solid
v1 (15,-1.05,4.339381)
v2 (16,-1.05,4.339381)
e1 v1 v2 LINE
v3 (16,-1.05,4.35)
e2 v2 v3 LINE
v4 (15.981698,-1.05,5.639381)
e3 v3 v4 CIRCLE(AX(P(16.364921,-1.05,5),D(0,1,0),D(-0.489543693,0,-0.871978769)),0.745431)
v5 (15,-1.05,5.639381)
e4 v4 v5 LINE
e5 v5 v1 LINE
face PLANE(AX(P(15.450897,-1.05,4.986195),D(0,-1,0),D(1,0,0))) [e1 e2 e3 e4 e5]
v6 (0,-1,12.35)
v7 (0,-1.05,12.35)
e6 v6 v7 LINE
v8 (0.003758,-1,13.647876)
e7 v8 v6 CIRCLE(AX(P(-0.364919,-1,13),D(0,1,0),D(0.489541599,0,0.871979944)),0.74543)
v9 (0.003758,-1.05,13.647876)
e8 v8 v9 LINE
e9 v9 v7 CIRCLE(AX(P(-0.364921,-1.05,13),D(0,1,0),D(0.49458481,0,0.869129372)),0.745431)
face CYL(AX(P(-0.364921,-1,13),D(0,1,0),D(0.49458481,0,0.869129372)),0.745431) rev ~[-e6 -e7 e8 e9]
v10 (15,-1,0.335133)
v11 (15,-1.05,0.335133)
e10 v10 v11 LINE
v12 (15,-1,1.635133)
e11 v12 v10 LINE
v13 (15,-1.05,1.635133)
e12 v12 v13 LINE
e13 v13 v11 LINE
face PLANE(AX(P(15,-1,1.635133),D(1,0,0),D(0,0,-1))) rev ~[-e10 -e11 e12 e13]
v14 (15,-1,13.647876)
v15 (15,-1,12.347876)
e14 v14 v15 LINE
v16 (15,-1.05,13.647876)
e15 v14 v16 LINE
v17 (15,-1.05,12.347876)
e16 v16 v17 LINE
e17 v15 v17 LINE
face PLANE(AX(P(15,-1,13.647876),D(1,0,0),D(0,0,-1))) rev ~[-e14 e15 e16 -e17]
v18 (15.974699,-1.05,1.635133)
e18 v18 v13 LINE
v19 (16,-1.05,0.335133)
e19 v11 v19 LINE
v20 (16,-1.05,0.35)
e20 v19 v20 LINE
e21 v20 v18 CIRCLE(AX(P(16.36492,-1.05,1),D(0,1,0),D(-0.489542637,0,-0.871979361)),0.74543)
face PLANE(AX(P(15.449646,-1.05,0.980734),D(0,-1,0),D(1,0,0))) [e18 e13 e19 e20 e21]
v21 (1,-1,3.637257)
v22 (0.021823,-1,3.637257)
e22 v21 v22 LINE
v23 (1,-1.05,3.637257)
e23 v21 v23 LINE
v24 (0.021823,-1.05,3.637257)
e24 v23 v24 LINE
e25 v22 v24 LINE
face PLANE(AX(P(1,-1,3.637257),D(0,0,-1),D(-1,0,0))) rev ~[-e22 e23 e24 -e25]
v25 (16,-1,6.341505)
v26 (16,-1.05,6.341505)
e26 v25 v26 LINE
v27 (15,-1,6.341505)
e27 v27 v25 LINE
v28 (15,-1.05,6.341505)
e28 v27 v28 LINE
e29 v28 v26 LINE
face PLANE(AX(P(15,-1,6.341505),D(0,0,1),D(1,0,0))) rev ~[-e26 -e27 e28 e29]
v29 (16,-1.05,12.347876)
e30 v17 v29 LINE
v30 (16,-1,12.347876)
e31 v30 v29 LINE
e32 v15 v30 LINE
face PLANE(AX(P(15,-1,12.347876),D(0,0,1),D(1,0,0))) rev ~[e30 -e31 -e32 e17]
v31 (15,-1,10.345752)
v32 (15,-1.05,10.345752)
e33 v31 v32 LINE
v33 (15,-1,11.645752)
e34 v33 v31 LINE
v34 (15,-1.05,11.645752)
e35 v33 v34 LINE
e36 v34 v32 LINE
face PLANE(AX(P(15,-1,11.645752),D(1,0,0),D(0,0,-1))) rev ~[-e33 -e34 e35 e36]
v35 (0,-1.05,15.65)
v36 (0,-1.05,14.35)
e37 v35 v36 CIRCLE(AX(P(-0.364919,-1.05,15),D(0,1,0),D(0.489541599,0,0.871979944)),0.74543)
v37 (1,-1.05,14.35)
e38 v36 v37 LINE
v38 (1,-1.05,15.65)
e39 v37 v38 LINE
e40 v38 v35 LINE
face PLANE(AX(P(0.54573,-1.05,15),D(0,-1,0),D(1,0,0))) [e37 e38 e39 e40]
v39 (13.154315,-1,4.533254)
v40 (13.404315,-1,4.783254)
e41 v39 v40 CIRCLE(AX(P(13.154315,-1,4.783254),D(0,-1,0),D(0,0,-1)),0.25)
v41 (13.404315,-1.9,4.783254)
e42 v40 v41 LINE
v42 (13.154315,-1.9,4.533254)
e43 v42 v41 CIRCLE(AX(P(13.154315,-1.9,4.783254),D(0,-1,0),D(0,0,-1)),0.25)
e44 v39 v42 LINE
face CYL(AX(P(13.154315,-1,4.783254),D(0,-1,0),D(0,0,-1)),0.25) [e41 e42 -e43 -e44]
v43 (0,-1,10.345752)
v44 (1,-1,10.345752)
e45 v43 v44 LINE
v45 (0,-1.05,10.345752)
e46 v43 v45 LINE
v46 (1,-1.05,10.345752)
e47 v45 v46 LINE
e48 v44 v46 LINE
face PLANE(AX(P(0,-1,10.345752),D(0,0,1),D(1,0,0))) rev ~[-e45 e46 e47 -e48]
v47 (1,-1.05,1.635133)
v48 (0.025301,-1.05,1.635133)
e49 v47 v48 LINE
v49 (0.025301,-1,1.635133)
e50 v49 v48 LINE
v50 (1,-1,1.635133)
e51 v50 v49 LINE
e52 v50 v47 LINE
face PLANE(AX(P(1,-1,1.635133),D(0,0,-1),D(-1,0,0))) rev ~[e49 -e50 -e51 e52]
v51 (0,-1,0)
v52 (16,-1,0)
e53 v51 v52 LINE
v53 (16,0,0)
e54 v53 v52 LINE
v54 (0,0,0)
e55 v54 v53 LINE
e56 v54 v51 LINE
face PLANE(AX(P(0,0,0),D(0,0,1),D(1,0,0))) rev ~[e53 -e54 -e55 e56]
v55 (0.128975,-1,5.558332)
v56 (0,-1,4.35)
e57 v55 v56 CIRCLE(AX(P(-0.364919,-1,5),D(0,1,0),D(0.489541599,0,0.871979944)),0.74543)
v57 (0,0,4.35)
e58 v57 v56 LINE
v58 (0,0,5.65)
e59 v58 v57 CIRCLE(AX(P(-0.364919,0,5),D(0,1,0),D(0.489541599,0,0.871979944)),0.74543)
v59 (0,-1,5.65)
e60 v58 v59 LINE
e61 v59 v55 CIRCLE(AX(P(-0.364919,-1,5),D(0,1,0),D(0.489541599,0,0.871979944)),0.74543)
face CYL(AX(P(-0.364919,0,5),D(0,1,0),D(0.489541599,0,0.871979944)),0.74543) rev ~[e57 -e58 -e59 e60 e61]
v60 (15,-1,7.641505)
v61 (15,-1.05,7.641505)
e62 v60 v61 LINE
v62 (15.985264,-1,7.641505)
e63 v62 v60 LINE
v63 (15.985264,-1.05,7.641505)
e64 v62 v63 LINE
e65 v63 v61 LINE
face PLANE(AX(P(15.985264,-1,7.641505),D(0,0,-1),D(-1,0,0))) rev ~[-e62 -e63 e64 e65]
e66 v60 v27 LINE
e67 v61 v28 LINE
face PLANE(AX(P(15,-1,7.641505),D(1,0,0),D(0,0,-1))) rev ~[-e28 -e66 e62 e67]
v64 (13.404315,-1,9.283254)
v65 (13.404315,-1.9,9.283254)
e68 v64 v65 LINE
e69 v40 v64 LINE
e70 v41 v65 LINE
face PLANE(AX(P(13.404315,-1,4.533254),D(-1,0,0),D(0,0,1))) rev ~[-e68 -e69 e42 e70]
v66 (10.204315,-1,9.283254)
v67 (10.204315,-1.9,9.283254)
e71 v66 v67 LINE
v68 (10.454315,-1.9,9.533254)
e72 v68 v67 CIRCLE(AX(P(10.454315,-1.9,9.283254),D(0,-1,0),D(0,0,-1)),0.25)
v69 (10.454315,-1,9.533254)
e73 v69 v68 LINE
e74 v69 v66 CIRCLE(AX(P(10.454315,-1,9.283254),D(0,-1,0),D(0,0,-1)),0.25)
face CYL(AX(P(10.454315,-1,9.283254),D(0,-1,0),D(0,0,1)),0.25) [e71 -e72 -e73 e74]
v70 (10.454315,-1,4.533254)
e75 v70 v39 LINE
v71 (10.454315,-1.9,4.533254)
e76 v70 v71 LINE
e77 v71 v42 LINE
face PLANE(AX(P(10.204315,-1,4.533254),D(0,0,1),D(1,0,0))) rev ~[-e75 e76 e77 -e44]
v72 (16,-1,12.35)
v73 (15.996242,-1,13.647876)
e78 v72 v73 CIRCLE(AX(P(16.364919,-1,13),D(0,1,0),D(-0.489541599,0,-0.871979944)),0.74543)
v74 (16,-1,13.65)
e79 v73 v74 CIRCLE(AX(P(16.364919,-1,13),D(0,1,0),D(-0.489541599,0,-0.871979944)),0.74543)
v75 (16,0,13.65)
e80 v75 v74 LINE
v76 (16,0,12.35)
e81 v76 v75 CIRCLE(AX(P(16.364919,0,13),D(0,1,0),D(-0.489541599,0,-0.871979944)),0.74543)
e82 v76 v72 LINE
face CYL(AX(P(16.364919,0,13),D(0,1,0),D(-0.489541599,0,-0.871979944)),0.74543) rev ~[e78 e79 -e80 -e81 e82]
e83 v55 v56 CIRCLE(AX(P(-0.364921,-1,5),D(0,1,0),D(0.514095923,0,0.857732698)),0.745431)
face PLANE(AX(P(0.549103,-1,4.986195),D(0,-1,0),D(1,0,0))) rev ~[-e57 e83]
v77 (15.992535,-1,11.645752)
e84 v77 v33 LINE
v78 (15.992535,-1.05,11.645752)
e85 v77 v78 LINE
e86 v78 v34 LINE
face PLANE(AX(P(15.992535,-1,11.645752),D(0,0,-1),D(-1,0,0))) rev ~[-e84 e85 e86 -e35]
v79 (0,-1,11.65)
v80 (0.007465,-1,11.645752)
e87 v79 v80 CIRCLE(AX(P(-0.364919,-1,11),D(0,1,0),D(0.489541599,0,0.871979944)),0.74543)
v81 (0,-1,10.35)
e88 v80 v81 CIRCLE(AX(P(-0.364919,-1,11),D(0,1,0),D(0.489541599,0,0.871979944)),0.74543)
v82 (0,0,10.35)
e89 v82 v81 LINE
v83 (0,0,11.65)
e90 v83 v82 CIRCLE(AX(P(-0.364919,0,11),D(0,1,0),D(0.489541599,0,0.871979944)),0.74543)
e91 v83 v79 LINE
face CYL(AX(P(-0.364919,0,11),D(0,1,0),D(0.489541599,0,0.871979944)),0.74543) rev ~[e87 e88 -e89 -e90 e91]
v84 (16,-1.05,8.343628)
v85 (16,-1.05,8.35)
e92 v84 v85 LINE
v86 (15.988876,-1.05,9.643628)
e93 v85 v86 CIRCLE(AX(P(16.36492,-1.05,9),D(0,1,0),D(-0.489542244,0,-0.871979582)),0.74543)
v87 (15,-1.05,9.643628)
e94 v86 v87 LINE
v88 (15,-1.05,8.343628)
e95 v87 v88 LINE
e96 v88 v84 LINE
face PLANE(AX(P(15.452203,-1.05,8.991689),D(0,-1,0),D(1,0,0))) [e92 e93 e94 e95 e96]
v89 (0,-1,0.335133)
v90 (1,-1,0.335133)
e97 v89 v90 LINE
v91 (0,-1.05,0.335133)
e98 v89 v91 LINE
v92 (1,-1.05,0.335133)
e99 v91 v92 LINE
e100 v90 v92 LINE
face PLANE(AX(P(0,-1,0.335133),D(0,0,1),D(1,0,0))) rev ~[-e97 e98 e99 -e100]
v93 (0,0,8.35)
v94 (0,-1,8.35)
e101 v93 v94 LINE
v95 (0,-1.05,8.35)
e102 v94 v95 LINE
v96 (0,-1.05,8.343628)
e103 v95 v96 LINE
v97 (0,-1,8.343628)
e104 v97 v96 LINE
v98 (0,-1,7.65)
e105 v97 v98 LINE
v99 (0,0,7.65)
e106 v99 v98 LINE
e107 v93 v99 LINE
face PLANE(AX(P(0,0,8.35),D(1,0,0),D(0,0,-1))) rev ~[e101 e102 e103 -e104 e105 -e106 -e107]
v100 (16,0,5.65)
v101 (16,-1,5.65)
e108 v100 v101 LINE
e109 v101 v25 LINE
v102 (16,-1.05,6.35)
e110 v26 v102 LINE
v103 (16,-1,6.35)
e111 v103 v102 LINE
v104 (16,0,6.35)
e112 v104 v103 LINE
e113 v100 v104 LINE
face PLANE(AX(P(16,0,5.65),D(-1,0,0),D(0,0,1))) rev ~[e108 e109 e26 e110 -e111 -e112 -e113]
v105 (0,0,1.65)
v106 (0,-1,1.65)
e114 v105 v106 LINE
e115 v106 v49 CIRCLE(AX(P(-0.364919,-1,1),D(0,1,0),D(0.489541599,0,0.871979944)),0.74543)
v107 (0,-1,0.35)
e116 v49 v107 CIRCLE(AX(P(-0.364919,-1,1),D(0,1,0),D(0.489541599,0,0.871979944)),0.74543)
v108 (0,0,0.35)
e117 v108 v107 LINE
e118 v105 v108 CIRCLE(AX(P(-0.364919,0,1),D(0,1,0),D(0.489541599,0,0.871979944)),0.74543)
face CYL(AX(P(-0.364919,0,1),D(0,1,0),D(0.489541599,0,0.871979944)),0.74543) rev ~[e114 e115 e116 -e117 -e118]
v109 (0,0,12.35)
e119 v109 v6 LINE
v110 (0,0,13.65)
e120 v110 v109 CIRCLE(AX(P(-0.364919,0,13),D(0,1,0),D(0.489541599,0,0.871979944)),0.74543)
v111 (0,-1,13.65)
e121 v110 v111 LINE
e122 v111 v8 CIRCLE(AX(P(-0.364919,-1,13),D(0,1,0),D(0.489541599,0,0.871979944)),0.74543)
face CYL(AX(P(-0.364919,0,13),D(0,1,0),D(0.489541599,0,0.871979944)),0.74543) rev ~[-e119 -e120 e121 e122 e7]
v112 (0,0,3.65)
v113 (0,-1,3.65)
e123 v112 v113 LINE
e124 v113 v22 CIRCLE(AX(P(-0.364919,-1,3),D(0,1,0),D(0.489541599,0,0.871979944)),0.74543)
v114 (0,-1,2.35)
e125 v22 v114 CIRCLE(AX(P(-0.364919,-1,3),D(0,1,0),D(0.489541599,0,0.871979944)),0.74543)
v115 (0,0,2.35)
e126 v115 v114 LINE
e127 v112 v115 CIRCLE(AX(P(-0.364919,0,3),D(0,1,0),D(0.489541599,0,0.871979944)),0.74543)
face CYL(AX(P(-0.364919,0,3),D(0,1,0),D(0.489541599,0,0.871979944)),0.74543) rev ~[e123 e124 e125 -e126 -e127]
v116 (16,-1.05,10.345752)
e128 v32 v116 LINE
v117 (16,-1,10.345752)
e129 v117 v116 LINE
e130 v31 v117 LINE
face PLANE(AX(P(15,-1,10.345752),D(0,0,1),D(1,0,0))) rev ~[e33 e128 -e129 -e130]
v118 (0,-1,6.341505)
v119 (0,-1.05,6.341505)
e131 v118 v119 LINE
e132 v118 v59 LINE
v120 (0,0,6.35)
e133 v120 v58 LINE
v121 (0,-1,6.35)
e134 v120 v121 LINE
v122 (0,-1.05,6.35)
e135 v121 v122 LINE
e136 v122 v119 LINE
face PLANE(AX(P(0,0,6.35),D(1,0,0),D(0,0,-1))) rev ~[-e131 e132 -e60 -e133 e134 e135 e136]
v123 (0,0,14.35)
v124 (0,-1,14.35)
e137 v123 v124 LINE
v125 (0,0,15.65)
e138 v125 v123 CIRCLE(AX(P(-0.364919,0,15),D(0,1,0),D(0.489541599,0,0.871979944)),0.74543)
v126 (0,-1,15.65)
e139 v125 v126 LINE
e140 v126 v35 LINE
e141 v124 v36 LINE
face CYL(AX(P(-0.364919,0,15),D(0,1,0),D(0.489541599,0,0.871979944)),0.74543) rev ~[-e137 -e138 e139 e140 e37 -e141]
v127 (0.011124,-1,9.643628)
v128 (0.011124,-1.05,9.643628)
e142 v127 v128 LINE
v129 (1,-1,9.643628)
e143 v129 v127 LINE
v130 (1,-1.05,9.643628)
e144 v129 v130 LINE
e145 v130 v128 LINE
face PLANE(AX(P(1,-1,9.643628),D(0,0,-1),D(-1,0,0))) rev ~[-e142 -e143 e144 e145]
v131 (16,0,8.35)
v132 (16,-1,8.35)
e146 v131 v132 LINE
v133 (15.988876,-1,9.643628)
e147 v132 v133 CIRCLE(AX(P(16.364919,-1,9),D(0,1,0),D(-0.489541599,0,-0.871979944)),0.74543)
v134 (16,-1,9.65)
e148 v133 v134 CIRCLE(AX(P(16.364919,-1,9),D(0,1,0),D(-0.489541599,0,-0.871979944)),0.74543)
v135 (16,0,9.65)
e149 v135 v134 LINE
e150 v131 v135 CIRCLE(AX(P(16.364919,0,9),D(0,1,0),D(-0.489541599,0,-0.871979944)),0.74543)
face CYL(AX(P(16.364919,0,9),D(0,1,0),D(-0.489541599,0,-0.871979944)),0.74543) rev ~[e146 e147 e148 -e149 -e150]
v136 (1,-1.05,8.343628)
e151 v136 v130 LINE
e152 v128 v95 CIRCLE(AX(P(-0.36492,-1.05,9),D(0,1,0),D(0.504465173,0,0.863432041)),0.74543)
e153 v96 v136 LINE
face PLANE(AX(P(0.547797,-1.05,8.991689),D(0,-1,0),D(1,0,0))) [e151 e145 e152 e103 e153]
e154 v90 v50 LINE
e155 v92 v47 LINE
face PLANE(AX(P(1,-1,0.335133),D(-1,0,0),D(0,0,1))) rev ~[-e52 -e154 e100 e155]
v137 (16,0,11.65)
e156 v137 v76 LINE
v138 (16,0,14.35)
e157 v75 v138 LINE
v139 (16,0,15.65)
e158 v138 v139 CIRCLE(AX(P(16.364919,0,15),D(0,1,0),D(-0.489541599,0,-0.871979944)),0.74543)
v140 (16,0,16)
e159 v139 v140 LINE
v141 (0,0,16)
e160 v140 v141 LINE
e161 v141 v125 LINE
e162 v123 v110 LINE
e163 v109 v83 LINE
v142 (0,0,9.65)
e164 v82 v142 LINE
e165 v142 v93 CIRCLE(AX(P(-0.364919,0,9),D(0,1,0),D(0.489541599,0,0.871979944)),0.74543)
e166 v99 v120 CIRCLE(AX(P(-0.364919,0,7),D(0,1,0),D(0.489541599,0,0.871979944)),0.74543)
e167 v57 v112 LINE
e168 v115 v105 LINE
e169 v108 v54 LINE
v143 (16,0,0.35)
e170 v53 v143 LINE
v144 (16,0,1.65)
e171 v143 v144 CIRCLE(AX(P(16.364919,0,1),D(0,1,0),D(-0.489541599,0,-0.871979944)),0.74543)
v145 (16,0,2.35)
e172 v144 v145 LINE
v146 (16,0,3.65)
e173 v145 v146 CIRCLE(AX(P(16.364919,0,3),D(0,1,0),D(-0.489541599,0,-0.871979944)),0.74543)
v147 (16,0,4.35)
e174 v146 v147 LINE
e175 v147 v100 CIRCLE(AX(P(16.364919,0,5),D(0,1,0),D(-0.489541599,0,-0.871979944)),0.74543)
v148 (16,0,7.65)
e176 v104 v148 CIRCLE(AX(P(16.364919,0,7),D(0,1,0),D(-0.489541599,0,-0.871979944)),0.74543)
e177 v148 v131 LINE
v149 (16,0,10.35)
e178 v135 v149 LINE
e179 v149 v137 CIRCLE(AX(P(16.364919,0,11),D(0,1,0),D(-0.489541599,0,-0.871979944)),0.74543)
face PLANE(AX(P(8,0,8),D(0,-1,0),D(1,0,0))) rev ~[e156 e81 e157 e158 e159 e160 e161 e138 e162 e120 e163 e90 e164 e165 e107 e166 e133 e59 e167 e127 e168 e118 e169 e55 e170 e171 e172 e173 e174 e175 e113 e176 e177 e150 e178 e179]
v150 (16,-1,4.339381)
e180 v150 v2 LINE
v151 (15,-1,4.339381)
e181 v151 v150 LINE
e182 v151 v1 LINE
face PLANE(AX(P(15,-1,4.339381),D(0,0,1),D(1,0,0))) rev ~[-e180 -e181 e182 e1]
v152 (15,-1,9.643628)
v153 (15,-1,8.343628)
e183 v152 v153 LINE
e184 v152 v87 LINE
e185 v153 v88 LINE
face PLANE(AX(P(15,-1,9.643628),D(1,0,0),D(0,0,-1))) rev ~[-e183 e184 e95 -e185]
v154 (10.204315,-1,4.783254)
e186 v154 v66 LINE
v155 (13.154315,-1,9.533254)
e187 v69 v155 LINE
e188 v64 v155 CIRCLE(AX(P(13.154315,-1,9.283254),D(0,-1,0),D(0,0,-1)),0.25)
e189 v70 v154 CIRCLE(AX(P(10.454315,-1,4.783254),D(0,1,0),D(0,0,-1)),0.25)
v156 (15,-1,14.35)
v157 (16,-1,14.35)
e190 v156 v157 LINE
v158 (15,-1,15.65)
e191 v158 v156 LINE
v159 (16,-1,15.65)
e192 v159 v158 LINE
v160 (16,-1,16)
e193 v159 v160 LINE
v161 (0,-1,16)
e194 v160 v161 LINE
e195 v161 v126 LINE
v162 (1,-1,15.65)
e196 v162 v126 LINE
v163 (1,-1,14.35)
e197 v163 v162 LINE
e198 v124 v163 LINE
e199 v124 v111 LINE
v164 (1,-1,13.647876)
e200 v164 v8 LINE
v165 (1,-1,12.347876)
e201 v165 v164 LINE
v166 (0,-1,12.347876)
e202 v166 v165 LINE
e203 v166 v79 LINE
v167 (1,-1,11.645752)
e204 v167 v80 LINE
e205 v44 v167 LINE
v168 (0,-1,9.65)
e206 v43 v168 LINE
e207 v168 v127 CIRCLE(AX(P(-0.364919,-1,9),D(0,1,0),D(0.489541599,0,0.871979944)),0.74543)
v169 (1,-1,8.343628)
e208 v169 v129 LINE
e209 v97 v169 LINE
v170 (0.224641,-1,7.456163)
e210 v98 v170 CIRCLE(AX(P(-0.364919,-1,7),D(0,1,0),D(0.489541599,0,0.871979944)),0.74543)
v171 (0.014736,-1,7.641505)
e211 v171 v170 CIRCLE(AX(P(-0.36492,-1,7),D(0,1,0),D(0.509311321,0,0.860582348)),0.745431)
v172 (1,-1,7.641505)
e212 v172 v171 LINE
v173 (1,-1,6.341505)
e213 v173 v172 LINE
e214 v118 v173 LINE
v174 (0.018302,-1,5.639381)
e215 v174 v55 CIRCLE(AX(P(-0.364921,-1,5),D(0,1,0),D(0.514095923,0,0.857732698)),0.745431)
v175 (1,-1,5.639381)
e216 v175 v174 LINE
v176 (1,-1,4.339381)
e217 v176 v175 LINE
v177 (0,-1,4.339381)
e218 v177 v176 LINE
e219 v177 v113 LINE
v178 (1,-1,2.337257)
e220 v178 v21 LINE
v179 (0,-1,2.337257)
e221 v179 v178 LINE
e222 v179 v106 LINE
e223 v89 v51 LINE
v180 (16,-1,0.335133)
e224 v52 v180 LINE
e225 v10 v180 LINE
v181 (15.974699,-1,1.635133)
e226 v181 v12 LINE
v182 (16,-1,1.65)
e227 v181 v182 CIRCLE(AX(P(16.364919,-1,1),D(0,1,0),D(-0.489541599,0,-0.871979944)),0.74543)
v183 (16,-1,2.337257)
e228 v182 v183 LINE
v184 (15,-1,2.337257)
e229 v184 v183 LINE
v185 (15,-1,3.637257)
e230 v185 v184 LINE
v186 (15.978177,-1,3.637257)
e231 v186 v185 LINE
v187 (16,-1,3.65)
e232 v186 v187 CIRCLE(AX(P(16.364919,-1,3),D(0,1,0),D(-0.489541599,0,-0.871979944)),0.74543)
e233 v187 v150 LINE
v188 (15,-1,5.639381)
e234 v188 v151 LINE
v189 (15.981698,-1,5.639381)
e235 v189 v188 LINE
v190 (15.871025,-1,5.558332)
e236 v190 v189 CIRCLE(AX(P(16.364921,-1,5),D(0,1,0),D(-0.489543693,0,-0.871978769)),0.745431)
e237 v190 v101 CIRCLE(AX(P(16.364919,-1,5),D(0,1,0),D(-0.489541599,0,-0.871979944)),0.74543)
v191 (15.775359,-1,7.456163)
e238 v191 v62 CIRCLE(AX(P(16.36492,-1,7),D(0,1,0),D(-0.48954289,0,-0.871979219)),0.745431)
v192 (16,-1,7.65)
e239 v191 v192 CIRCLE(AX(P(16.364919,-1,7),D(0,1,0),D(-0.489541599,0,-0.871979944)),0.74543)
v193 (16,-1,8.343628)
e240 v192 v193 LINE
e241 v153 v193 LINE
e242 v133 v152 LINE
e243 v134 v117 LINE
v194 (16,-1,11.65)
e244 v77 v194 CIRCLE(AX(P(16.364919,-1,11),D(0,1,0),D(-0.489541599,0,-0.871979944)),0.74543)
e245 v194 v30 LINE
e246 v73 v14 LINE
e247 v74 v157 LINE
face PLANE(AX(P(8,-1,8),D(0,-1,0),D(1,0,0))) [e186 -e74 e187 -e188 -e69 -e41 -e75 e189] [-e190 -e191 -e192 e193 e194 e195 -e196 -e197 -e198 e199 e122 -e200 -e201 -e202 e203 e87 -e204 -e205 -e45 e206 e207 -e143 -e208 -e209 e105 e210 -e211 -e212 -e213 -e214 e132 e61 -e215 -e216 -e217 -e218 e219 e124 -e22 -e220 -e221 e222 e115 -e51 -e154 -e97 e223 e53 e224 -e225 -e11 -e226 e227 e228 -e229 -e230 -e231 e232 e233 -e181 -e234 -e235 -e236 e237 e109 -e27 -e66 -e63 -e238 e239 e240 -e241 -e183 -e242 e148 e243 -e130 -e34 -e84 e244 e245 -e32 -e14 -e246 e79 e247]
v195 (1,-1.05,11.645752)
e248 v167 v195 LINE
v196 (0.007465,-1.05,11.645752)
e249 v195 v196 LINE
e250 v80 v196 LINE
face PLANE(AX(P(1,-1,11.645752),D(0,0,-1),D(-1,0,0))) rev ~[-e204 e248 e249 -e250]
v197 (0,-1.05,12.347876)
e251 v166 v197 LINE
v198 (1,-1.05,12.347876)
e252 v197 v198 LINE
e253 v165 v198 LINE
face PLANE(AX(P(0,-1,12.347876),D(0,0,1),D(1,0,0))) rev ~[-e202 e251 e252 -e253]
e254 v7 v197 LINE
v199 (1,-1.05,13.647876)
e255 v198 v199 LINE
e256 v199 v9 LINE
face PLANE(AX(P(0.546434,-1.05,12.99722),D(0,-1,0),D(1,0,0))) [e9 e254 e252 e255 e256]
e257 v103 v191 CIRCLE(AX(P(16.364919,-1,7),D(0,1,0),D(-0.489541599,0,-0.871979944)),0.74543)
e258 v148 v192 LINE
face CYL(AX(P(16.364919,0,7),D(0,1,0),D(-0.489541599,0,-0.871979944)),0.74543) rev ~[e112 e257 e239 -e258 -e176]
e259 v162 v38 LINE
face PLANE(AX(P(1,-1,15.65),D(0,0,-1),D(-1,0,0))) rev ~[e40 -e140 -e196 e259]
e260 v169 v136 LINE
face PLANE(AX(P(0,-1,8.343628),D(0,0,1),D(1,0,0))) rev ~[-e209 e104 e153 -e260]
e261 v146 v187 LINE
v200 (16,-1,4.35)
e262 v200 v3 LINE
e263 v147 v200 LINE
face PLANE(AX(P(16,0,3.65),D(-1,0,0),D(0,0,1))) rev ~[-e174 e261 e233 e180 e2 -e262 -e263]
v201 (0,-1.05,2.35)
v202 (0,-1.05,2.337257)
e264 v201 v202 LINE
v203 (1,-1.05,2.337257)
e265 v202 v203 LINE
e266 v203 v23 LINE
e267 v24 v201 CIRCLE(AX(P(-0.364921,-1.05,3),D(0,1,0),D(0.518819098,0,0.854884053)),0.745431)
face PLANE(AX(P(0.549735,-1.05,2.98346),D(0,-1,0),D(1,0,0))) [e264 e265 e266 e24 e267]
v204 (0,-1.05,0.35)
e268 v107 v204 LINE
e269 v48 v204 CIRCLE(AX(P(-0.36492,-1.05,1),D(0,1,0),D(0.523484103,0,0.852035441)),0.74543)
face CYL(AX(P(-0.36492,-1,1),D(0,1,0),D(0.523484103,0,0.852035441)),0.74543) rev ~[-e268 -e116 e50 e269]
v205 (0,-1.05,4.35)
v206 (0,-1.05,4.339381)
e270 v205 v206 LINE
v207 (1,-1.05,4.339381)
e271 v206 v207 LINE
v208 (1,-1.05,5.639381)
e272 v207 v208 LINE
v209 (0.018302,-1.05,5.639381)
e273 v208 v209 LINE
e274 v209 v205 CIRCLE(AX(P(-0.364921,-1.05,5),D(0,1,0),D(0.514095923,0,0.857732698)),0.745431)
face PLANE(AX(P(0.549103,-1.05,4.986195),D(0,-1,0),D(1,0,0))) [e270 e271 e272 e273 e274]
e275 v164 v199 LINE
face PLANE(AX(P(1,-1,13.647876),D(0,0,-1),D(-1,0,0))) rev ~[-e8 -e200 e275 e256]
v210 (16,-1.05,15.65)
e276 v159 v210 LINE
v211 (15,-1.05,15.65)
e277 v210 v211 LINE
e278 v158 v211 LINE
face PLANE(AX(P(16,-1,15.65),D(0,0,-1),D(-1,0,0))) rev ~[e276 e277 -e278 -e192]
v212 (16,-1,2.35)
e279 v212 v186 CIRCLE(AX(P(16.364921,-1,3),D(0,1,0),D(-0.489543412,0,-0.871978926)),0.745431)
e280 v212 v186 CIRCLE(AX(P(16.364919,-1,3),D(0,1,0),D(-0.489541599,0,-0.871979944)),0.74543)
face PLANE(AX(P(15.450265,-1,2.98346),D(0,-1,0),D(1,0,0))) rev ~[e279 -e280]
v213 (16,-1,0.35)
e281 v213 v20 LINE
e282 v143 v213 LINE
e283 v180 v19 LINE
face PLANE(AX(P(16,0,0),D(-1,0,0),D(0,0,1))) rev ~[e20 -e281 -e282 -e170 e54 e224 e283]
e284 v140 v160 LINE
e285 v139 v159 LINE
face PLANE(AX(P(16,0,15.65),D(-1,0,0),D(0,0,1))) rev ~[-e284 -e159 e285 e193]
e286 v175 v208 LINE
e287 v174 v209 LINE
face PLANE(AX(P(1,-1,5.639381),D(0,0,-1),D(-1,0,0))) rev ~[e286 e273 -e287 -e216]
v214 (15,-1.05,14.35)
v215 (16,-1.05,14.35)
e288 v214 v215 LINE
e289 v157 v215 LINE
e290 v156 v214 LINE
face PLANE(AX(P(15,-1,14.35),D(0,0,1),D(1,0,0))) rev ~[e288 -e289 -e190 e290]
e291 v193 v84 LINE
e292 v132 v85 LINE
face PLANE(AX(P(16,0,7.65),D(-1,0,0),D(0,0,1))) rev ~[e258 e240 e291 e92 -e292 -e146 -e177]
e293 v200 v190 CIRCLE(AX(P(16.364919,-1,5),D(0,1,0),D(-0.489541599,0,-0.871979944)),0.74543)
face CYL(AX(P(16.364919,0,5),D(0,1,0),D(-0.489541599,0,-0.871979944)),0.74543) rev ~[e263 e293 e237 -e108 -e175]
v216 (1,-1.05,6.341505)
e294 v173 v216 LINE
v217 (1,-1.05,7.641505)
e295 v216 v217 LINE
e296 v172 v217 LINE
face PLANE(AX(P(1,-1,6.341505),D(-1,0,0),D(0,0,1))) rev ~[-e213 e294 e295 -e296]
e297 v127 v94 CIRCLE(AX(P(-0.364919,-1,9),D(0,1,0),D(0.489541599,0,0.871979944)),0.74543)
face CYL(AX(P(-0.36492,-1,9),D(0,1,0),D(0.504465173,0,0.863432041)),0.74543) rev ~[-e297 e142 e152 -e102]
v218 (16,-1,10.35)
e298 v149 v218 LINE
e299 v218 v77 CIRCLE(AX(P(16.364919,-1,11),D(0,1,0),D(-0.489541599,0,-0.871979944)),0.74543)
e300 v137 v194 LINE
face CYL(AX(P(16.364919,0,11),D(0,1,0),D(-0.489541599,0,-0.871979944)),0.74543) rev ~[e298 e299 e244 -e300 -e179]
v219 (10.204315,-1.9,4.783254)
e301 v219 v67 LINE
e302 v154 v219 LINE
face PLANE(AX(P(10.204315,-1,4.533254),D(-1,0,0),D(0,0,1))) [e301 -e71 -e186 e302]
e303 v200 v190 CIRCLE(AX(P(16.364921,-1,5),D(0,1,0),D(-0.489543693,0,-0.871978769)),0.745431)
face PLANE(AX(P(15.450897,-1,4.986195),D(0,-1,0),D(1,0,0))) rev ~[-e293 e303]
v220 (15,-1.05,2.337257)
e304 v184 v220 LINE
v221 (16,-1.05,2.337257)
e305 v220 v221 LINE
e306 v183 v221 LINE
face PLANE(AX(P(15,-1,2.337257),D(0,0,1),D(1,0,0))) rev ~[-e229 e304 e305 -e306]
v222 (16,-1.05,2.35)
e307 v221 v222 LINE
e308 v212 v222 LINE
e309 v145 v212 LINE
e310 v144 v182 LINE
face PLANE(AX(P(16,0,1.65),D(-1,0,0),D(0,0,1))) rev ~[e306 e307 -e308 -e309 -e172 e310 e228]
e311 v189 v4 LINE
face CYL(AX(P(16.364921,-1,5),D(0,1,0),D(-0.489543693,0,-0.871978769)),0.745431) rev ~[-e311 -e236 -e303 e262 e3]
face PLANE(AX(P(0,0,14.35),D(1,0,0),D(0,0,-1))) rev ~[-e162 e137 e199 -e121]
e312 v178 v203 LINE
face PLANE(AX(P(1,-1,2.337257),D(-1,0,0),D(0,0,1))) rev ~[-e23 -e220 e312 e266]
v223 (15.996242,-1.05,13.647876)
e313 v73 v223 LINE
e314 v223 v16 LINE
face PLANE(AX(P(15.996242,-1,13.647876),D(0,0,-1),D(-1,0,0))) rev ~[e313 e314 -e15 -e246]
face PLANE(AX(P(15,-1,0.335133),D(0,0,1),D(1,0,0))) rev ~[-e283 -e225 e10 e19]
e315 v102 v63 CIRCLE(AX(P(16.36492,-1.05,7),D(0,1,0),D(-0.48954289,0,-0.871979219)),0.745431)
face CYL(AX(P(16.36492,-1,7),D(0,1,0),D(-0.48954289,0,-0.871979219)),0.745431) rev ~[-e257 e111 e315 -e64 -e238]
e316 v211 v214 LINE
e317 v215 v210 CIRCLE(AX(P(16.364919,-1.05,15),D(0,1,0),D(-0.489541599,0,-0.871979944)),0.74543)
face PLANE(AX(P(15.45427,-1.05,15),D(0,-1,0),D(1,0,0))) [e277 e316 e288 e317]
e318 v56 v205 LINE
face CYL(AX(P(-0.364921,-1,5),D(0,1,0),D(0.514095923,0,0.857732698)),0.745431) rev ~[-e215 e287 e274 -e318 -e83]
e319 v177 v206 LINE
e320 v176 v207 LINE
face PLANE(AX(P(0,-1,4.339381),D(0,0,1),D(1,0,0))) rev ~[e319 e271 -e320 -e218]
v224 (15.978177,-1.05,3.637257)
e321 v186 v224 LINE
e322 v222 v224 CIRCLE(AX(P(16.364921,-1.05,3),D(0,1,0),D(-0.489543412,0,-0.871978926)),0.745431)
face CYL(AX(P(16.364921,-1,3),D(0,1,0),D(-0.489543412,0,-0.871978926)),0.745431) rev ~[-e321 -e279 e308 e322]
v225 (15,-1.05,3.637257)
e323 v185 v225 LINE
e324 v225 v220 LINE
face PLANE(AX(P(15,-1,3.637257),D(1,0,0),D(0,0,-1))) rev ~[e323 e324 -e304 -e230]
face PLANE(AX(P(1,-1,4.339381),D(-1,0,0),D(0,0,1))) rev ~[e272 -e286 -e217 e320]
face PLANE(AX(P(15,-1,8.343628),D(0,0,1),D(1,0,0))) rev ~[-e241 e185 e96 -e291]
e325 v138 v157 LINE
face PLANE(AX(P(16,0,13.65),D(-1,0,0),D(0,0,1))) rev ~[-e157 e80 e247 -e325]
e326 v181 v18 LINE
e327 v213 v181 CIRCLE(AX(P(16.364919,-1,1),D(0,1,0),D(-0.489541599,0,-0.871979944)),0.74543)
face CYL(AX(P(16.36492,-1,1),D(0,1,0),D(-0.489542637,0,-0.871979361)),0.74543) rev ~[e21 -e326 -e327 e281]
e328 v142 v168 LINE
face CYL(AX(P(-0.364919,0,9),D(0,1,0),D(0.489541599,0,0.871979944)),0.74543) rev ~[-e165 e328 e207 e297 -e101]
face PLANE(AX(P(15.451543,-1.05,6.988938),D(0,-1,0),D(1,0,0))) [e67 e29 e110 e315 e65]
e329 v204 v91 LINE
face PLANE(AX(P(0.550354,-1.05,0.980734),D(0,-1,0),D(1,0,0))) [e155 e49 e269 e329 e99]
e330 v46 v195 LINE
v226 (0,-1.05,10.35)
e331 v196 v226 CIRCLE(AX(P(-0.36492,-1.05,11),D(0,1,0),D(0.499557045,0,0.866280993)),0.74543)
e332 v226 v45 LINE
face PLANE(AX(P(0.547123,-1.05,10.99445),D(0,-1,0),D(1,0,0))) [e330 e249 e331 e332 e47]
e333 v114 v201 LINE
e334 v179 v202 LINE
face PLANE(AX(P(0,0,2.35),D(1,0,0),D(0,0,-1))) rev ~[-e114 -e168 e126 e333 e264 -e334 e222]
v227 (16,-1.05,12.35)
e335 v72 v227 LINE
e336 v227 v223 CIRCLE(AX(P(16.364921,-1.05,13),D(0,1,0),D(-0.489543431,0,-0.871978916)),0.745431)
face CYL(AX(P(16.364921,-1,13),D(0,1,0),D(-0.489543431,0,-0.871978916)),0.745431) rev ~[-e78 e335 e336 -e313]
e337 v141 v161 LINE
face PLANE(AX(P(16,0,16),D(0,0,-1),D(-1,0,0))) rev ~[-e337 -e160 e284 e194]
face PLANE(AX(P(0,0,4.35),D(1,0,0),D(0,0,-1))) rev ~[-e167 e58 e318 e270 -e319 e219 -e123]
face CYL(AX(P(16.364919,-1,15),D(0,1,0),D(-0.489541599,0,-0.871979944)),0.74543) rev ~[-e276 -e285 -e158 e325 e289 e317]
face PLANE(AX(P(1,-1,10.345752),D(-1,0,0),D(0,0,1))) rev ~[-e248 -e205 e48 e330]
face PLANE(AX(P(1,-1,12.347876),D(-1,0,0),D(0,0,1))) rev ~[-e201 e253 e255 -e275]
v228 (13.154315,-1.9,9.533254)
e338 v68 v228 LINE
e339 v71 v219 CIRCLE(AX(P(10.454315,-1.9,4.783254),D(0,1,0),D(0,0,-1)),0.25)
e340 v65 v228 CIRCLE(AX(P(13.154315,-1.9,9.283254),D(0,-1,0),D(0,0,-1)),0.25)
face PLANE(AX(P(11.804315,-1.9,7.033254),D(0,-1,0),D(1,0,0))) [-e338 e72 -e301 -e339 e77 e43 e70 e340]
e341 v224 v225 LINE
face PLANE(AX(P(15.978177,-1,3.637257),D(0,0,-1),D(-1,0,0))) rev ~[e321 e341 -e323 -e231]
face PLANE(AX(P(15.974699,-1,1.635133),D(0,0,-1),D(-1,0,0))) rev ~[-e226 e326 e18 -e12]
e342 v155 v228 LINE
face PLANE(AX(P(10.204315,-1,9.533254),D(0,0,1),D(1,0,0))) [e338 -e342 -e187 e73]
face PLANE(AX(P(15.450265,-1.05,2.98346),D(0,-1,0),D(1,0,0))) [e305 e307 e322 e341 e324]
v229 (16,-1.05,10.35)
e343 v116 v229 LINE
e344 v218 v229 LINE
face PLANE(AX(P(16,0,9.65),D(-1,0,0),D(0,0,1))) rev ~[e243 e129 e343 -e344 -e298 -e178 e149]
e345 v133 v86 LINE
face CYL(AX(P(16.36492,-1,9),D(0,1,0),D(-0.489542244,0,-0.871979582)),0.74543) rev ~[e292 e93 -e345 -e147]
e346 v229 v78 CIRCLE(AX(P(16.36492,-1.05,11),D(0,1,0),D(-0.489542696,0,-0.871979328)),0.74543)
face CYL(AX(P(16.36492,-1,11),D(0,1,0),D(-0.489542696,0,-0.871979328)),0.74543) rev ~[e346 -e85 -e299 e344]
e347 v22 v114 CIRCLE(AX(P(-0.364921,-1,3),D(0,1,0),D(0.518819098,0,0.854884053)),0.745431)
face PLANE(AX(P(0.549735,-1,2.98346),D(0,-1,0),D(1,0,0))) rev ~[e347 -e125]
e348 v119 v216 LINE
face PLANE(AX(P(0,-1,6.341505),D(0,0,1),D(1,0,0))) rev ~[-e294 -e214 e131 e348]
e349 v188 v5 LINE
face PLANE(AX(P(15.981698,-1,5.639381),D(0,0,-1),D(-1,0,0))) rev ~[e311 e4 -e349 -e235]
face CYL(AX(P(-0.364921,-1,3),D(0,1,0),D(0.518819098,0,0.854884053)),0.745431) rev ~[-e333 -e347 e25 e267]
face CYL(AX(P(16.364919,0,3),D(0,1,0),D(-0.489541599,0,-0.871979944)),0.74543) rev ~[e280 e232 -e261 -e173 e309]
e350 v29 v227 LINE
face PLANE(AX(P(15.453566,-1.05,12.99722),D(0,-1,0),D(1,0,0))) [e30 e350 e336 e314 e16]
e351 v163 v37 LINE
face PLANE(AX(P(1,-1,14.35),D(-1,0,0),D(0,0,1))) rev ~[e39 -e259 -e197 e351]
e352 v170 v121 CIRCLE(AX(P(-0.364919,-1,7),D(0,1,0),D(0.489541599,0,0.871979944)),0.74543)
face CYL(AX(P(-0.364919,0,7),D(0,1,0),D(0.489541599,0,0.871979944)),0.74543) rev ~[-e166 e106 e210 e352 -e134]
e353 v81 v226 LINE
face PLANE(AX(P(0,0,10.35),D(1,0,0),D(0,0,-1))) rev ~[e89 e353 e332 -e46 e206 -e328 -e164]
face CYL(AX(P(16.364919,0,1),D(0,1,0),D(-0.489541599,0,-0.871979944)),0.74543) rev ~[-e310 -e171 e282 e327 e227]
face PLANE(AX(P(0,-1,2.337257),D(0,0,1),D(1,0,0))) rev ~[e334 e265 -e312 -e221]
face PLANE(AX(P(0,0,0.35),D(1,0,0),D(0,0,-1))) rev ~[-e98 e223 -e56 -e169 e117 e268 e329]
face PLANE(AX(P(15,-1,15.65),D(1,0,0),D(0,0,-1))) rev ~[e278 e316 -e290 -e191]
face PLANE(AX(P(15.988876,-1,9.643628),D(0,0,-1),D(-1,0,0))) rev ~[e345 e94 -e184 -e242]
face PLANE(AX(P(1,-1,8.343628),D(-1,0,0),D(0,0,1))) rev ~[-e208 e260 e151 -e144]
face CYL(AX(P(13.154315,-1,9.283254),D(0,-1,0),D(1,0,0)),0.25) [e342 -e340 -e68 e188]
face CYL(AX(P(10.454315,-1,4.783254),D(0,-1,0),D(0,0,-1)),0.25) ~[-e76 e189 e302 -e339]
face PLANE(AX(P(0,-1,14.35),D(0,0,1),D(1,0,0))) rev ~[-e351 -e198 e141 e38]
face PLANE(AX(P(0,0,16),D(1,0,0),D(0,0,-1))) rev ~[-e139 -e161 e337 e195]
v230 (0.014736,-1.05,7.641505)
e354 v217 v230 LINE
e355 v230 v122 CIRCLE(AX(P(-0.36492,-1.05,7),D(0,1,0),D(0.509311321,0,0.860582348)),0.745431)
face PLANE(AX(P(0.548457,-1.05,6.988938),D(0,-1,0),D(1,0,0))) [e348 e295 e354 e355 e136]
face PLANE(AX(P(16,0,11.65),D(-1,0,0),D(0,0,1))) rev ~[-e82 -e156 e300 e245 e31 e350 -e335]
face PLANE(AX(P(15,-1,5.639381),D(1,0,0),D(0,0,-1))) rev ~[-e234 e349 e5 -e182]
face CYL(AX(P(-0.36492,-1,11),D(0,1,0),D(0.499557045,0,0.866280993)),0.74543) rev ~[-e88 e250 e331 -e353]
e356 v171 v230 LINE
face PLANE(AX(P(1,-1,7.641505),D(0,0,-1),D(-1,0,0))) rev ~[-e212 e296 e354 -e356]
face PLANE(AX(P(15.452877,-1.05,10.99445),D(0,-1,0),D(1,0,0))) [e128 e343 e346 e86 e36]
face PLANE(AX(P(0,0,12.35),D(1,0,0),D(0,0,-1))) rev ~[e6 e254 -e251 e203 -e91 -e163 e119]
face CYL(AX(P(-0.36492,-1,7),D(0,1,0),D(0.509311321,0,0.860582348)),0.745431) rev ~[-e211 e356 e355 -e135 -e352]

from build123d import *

# Parameters (mm, degrees)
F1_DEPTH = 1
F3_DEPTH = 0.05
F4_W     = 3.2
F4_H     = 5
F5_DEPTH = 0.9
F6_R     = 0.25


with BuildPart() as f1:
    # F0 (on Front) → F1 (new body)
    with BuildSketch(Plane.XZ):
        Polygon((0, 0.35), (0, 0), (16, 0), (16, 0.35), (15, 0.35), (15, 1.65), (16, 1.65), (16, 2.35), (15, 2.35), (15, 3.65), (16, 3.65), (16, 4.35), (15, 4.35), (15, 5.65), (16, 5.65), (16, 6.35), (15, 6.35), (15, 7.65), (16, 7.65), (16, 8.35), (15, 8.35), (15, 9.65), (16, 9.65), (16, 10.35), (15, 10.35), (15, 11.65), (16, 11.65), (16, 12.35), (15, 12.35), (15, 13.65), (16, 13.65), (16, 14.35), (15, 14.35), (15, 15.65), (16, 15.65), (16, 16), (0, 16), (0, 15.65), (1, 15.65), (1, 14.35), (0, 14.35), (0, 13.65), (1, 13.65), (1, 12.35), (0, 12.35), (0, 11.65), (1, 11.65), (1, 10.35), (0, 10.35), (0, 9.65), (1, 9.65), (1, 8.35), (0, 8.35), (0, 7.65), (1, 7.65), (1, 6.35), (0, 6.35), (0, 5.65), (1, 5.65), (1, 4.35), (0, 4.35), (0, 3.65), (1, 3.65), (1, 2.35), (0, 2.35), (0, 1.65), (1, 1.65), (1, 0.35), align=None)
        with BuildLine():
            ThreePointArc((0, 13.65), (0.380511, 13), (0, 12.35))
            Line((0, 12.35), (1, 12.35))
            Line((1, 12.35), (1, 13.65))
            Line((1, 13.65), (0, 13.65))
        make_face()
        with BuildLine():
            ThreePointArc((0, 11.65), (0.380511, 11), (0, 10.35))
            Line((0, 10.35), (1, 10.35))
            Line((1, 10.35), (1, 11.65))
            Line((1, 11.65), (0, 11.65))
        make_face()
        with BuildLine():
            ThreePointArc((0, 9.65), (0.380511, 9), (0, 8.35))
            Line((0, 8.35), (1, 8.35))
            Line((1, 8.35), (1, 9.65))
            Line((1, 9.65), (0, 9.65))
        make_face()
        with BuildLine():
            ThreePointArc((0, 7.65), (0.380511, 7), (0, 6.35))
            Line((0, 6.35), (1, 6.35))
            Line((1, 6.35), (1, 7.65))
            Line((1, 7.65), (0, 7.65))
        make_face()
        with BuildLine():
            ThreePointArc((0, 5.65), (0.380511, 5), (0, 4.35))
            Line((0, 4.35), (1, 4.35))
            Line((1, 4.35), (1, 5.65))
            Line((1, 5.65), (0, 5.65))
        make_face()
        with BuildLine():
            ThreePointArc((0, 3.65), (0.380511, 3), (0, 2.35))
            Line((0, 2.35), (1, 2.35))
            Line((1, 2.35), (1, 3.65))
            Line((1, 3.65), (0, 3.65))
        make_face()
        with BuildLine():
            ThreePointArc((0, 1.65), (0.380511, 1), (0, 0.35))
            Line((0, 0.35), (1, 0.35))
            Line((1, 0.35), (1, 1.65))
            Line((1, 1.65), (0, 1.65))
        make_face()
        with BuildLine():
            Line((15, 4.35), (16, 4.35))
            ThreePointArc((16, 4.35), (15.619489, 5), (16, 5.65))
            Line((16, 5.65), (15, 5.65))
            Line((15, 5.65), (15, 4.35))
        make_face()
        with BuildLine():
            Line((15, 6.35), (16, 6.35))
            ThreePointArc((16, 6.35), (15.619489, 7), (16, 7.65))
            Line((16, 7.65), (15, 7.65))
            Line((15, 7.65), (15, 6.35))
        make_face()
        with BuildLine():
            Line((15, 8.35), (16, 8.35))
            ThreePointArc((16, 8.35), (15.619489, 9), (16, 9.65))
            Line((16, 9.65), (15, 9.65))
            Line((15, 9.65), (15, 8.35))
        make_face()
        with BuildLine():
            Line((15, 10.35), (16, 10.35))
            ThreePointArc((16, 10.35), (15.619489, 11), (16, 11.65))
            Line((16, 11.65), (15, 11.65))
            Line((15, 11.65), (15, 10.35))
        make_face()
        with BuildLine():
            Line((15, 12.35), (16, 12.35))
            ThreePointArc((16, 12.35), (15.619489, 13), (16, 13.65))
            Line((16, 13.65), (15, 13.65))
            Line((15, 13.65), (15, 12.35))
        make_face()
        with BuildLine():
            Line((15, 14.35), (16, 14.35))
            ThreePointArc((16, 14.35), (15.619489, 15), (16, 15.65))
            Line((16, 15.65), (15, 15.65))
            Line((15, 15.65), (15, 14.35))
        make_face()
        with BuildLine():
            Line((15, 2.35), (16, 2.35))
            ThreePointArc((16, 2.35), (15.619489, 3), (16, 3.65))
            Line((16, 3.65), (15, 3.65))
            Line((15, 3.65), (15, 2.35))
        make_face()
        with BuildLine():
            Line((15, 0.35), (16, 0.35))
            ThreePointArc((16, 0.35), (15.619489, 1), (16, 1.65))
            Line((16, 1.65), (15, 1.65))
            Line((15, 1.65), (15, 0.35))
        make_face()
        with BuildLine():
            ThreePointArc((0, 15.65), (0.380511, 15), (0, 14.35))
            Line((0, 14.35), (1, 14.35))
            Line((1, 14.35), (1, 15.65))
            Line((1, 15.65), (0, 15.65))
        make_face()
    extrude(amount=F1_DEPTH)

    # F2 (on face) → F3 (join)
    with BuildSketch(Plane.XZ.offset(1)):
        with BuildLine():
            ThreePointArc((16, 14.35), (15.619489, 15), (16, 15.65))
            Line((16, 15.65), (15, 15.65))
            Line((15, 15.65), (15, 14.35))
            Line((15, 14.35), (16, 14.35))
        make_face()
        with BuildLine():
            ThreePointArc((16, 12.35), (15.619493, 12.997842), (15.996242, 13.647876))
            Line((15.996242, 13.647876), (15, 13.647876))
            Line((15, 13.647876), (15, 12.347876))
            Line((15, 12.347876), (16, 12.347876))
            Line((16, 12.347876), (16, 12.35))
        make_face()
        with BuildLine():
            ThreePointArc((16, 10.35), (15.619502, 10.995706), (15.992535, 11.645752))
            Line((15.992535, 11.645752), (15, 11.645752))
            Line((15, 11.645752), (15, 10.345752))
            Line((15, 10.345752), (16, 10.345752))
            Line((16, 10.345752), (16, 10.35))
        make_face()
        with BuildLine():
            ThreePointArc((16, 8.35), (15.619517, 8.99359), (15.988876, 9.643628))
            Line((15.988876, 9.643628), (15, 9.643628))
            Line((15, 9.643628), (15, 8.343628))
            Line((15, 8.343628), (16, 8.343628))
            Line((16, 8.343628), (16, 8.35))
        make_face()
        with BuildLine():
            ThreePointArc((16, 6.35), (15.619538, 6.991495), (15.985264, 7.641505))
            Line((15.985264, 7.641505), (15, 7.641505))
            Line((15, 7.641505), (15, 6.341505))
            Line((15, 6.341505), (16, 6.341505))
            Line((16, 6.341505), (16, 6.35))
        make_face()
        with BuildLine():
            ThreePointArc((16, 4.35), (15.619565, 4.98942), (15.981698, 5.639381))
            Line((15.981698, 5.639381), (15, 5.639381))
            Line((15, 5.639381), (15, 4.339381))
            Line((15, 4.339381), (16, 4.339381))
            Line((16, 4.339381), (16, 4.35))
        make_face()
        with BuildLine():
            ThreePointArc((16, 2.35), (15.619597, 2.987364), (15.978177, 3.637257))
            Line((15.978177, 3.637257), (15, 3.637257))
            Line((15, 3.637257), (15, 2.337257))
            Line((15, 2.337257), (16, 2.337257))
            Line((16, 2.337257), (16, 2.35))
        make_face()
        with BuildLine():
            ThreePointArc((16, 0.35), (15.619634, 0.985327), (15.974699, 1.635133))
            Line((15.974699, 1.635133), (15, 1.635133))
            Line((15, 1.635133), (15, 0.335133))
            Line((15, 0.335133), (16, 0.335133))
            Line((16, 0.335133), (16, 0.35))
        make_face()
        with BuildLine():
            Line((1, 1.635133), (0.025301, 1.635133))
            ThreePointArc((0.025301, 1.635133), (0.380366, 0.985327), (0, 0.35))
            Line((0, 0.35), (0, 0.335133))
            Line((0, 0.335133), (1, 0.335133))
            Line((1, 0.335133), (1, 1.635133))
        make_face()
        with BuildLine():
            Line((1, 3.637257), (0.021823, 3.637257))
            ThreePointArc((0.021823, 3.637257), (0.380403, 2.987364), (0, 2.35))
            Line((0, 2.35), (0, 2.337257))
            Line((0, 2.337257), (1, 2.337257))
            Line((1, 2.337257), (1, 3.637257))
        make_face()
        with BuildLine():
            Line((1, 5.639381), (0.018302, 5.639381))
            ThreePointArc((0.018302, 5.639381), (0.380435, 4.98942), (0, 4.35))
            Line((0, 4.35), (0, 4.339381))
            Line((0, 4.339381), (1, 4.339381))
            Line((1, 4.339381), (1, 5.639381))
        make_face()
        with BuildLine():
            Line((1, 7.641505), (0.014736, 7.641505))
            ThreePointArc((0.014736, 7.641505), (0.380462, 6.991495), (0, 6.35))
            Line((0, 6.35), (0, 6.341505))
            Line((0, 6.341505), (1, 6.341505))
            Line((1, 6.341505), (1, 7.641505))
        make_face()
        with BuildLine():
            Line((1, 9.643628), (0.011124, 9.643628))
            ThreePointArc((0.011124, 9.643628), (0.380483, 8.99359), (0, 8.35))
            Line((0, 8.35), (0, 8.343628))
            Line((0, 8.343628), (1, 8.343628))
            Line((1, 8.343628), (1, 9.643628))
        make_face()
        with BuildLine():
            Line((1, 11.645752), (0.007465, 11.645752))
            ThreePointArc((0.007465, 11.645752), (0.380498, 10.995706), (0, 10.35))
            Line((0, 10.35), (0, 10.345752))
            Line((0, 10.345752), (1, 10.345752))
            Line((1, 10.345752), (1, 11.645752))
        make_face()
        with BuildLine():
            Line((1, 13.647876), (0.003758, 13.647876))
            ThreePointArc((0.003758, 13.647876), (0.380507, 12.997842), (0, 12.35))
            Line((0, 12.35), (0, 12.347876))
            Line((0, 12.347876), (1, 12.347876))
            Line((1, 12.347876), (1, 13.647876))
        make_face()
        with BuildLine():
            Line((1, 15.65), (0, 15.65))
            ThreePointArc((0, 15.65), (0.380511, 15), (0, 14.35))
            Line((0, 14.35), (1, 14.35))
            Line((1, 14.35), (1, 15.65))
        make_face()
    extrude(amount=F3_DEPTH)

    # F4 (on face) → F5 (join)
    with BuildSketch(Plane.XZ.offset(1)):
        with Locations((11.804315, 7.033254)):
            Rectangle(F4_W, F4_H)
    extrude(amount=F5_DEPTH)

    # F6
    f6_edges = [f1.edges().sort_by_distance(p)[0] for p in [
        (10.204315, -1.45, 4.533254),
        (13.404315, -1.45, 4.533254),
        (10.204315, -1.45, 9.533254),
        (13.404315, -1.45, 9.533254),
    ]]
    fillet(f6_edges, radius=F6_R)


solid = f1.part
